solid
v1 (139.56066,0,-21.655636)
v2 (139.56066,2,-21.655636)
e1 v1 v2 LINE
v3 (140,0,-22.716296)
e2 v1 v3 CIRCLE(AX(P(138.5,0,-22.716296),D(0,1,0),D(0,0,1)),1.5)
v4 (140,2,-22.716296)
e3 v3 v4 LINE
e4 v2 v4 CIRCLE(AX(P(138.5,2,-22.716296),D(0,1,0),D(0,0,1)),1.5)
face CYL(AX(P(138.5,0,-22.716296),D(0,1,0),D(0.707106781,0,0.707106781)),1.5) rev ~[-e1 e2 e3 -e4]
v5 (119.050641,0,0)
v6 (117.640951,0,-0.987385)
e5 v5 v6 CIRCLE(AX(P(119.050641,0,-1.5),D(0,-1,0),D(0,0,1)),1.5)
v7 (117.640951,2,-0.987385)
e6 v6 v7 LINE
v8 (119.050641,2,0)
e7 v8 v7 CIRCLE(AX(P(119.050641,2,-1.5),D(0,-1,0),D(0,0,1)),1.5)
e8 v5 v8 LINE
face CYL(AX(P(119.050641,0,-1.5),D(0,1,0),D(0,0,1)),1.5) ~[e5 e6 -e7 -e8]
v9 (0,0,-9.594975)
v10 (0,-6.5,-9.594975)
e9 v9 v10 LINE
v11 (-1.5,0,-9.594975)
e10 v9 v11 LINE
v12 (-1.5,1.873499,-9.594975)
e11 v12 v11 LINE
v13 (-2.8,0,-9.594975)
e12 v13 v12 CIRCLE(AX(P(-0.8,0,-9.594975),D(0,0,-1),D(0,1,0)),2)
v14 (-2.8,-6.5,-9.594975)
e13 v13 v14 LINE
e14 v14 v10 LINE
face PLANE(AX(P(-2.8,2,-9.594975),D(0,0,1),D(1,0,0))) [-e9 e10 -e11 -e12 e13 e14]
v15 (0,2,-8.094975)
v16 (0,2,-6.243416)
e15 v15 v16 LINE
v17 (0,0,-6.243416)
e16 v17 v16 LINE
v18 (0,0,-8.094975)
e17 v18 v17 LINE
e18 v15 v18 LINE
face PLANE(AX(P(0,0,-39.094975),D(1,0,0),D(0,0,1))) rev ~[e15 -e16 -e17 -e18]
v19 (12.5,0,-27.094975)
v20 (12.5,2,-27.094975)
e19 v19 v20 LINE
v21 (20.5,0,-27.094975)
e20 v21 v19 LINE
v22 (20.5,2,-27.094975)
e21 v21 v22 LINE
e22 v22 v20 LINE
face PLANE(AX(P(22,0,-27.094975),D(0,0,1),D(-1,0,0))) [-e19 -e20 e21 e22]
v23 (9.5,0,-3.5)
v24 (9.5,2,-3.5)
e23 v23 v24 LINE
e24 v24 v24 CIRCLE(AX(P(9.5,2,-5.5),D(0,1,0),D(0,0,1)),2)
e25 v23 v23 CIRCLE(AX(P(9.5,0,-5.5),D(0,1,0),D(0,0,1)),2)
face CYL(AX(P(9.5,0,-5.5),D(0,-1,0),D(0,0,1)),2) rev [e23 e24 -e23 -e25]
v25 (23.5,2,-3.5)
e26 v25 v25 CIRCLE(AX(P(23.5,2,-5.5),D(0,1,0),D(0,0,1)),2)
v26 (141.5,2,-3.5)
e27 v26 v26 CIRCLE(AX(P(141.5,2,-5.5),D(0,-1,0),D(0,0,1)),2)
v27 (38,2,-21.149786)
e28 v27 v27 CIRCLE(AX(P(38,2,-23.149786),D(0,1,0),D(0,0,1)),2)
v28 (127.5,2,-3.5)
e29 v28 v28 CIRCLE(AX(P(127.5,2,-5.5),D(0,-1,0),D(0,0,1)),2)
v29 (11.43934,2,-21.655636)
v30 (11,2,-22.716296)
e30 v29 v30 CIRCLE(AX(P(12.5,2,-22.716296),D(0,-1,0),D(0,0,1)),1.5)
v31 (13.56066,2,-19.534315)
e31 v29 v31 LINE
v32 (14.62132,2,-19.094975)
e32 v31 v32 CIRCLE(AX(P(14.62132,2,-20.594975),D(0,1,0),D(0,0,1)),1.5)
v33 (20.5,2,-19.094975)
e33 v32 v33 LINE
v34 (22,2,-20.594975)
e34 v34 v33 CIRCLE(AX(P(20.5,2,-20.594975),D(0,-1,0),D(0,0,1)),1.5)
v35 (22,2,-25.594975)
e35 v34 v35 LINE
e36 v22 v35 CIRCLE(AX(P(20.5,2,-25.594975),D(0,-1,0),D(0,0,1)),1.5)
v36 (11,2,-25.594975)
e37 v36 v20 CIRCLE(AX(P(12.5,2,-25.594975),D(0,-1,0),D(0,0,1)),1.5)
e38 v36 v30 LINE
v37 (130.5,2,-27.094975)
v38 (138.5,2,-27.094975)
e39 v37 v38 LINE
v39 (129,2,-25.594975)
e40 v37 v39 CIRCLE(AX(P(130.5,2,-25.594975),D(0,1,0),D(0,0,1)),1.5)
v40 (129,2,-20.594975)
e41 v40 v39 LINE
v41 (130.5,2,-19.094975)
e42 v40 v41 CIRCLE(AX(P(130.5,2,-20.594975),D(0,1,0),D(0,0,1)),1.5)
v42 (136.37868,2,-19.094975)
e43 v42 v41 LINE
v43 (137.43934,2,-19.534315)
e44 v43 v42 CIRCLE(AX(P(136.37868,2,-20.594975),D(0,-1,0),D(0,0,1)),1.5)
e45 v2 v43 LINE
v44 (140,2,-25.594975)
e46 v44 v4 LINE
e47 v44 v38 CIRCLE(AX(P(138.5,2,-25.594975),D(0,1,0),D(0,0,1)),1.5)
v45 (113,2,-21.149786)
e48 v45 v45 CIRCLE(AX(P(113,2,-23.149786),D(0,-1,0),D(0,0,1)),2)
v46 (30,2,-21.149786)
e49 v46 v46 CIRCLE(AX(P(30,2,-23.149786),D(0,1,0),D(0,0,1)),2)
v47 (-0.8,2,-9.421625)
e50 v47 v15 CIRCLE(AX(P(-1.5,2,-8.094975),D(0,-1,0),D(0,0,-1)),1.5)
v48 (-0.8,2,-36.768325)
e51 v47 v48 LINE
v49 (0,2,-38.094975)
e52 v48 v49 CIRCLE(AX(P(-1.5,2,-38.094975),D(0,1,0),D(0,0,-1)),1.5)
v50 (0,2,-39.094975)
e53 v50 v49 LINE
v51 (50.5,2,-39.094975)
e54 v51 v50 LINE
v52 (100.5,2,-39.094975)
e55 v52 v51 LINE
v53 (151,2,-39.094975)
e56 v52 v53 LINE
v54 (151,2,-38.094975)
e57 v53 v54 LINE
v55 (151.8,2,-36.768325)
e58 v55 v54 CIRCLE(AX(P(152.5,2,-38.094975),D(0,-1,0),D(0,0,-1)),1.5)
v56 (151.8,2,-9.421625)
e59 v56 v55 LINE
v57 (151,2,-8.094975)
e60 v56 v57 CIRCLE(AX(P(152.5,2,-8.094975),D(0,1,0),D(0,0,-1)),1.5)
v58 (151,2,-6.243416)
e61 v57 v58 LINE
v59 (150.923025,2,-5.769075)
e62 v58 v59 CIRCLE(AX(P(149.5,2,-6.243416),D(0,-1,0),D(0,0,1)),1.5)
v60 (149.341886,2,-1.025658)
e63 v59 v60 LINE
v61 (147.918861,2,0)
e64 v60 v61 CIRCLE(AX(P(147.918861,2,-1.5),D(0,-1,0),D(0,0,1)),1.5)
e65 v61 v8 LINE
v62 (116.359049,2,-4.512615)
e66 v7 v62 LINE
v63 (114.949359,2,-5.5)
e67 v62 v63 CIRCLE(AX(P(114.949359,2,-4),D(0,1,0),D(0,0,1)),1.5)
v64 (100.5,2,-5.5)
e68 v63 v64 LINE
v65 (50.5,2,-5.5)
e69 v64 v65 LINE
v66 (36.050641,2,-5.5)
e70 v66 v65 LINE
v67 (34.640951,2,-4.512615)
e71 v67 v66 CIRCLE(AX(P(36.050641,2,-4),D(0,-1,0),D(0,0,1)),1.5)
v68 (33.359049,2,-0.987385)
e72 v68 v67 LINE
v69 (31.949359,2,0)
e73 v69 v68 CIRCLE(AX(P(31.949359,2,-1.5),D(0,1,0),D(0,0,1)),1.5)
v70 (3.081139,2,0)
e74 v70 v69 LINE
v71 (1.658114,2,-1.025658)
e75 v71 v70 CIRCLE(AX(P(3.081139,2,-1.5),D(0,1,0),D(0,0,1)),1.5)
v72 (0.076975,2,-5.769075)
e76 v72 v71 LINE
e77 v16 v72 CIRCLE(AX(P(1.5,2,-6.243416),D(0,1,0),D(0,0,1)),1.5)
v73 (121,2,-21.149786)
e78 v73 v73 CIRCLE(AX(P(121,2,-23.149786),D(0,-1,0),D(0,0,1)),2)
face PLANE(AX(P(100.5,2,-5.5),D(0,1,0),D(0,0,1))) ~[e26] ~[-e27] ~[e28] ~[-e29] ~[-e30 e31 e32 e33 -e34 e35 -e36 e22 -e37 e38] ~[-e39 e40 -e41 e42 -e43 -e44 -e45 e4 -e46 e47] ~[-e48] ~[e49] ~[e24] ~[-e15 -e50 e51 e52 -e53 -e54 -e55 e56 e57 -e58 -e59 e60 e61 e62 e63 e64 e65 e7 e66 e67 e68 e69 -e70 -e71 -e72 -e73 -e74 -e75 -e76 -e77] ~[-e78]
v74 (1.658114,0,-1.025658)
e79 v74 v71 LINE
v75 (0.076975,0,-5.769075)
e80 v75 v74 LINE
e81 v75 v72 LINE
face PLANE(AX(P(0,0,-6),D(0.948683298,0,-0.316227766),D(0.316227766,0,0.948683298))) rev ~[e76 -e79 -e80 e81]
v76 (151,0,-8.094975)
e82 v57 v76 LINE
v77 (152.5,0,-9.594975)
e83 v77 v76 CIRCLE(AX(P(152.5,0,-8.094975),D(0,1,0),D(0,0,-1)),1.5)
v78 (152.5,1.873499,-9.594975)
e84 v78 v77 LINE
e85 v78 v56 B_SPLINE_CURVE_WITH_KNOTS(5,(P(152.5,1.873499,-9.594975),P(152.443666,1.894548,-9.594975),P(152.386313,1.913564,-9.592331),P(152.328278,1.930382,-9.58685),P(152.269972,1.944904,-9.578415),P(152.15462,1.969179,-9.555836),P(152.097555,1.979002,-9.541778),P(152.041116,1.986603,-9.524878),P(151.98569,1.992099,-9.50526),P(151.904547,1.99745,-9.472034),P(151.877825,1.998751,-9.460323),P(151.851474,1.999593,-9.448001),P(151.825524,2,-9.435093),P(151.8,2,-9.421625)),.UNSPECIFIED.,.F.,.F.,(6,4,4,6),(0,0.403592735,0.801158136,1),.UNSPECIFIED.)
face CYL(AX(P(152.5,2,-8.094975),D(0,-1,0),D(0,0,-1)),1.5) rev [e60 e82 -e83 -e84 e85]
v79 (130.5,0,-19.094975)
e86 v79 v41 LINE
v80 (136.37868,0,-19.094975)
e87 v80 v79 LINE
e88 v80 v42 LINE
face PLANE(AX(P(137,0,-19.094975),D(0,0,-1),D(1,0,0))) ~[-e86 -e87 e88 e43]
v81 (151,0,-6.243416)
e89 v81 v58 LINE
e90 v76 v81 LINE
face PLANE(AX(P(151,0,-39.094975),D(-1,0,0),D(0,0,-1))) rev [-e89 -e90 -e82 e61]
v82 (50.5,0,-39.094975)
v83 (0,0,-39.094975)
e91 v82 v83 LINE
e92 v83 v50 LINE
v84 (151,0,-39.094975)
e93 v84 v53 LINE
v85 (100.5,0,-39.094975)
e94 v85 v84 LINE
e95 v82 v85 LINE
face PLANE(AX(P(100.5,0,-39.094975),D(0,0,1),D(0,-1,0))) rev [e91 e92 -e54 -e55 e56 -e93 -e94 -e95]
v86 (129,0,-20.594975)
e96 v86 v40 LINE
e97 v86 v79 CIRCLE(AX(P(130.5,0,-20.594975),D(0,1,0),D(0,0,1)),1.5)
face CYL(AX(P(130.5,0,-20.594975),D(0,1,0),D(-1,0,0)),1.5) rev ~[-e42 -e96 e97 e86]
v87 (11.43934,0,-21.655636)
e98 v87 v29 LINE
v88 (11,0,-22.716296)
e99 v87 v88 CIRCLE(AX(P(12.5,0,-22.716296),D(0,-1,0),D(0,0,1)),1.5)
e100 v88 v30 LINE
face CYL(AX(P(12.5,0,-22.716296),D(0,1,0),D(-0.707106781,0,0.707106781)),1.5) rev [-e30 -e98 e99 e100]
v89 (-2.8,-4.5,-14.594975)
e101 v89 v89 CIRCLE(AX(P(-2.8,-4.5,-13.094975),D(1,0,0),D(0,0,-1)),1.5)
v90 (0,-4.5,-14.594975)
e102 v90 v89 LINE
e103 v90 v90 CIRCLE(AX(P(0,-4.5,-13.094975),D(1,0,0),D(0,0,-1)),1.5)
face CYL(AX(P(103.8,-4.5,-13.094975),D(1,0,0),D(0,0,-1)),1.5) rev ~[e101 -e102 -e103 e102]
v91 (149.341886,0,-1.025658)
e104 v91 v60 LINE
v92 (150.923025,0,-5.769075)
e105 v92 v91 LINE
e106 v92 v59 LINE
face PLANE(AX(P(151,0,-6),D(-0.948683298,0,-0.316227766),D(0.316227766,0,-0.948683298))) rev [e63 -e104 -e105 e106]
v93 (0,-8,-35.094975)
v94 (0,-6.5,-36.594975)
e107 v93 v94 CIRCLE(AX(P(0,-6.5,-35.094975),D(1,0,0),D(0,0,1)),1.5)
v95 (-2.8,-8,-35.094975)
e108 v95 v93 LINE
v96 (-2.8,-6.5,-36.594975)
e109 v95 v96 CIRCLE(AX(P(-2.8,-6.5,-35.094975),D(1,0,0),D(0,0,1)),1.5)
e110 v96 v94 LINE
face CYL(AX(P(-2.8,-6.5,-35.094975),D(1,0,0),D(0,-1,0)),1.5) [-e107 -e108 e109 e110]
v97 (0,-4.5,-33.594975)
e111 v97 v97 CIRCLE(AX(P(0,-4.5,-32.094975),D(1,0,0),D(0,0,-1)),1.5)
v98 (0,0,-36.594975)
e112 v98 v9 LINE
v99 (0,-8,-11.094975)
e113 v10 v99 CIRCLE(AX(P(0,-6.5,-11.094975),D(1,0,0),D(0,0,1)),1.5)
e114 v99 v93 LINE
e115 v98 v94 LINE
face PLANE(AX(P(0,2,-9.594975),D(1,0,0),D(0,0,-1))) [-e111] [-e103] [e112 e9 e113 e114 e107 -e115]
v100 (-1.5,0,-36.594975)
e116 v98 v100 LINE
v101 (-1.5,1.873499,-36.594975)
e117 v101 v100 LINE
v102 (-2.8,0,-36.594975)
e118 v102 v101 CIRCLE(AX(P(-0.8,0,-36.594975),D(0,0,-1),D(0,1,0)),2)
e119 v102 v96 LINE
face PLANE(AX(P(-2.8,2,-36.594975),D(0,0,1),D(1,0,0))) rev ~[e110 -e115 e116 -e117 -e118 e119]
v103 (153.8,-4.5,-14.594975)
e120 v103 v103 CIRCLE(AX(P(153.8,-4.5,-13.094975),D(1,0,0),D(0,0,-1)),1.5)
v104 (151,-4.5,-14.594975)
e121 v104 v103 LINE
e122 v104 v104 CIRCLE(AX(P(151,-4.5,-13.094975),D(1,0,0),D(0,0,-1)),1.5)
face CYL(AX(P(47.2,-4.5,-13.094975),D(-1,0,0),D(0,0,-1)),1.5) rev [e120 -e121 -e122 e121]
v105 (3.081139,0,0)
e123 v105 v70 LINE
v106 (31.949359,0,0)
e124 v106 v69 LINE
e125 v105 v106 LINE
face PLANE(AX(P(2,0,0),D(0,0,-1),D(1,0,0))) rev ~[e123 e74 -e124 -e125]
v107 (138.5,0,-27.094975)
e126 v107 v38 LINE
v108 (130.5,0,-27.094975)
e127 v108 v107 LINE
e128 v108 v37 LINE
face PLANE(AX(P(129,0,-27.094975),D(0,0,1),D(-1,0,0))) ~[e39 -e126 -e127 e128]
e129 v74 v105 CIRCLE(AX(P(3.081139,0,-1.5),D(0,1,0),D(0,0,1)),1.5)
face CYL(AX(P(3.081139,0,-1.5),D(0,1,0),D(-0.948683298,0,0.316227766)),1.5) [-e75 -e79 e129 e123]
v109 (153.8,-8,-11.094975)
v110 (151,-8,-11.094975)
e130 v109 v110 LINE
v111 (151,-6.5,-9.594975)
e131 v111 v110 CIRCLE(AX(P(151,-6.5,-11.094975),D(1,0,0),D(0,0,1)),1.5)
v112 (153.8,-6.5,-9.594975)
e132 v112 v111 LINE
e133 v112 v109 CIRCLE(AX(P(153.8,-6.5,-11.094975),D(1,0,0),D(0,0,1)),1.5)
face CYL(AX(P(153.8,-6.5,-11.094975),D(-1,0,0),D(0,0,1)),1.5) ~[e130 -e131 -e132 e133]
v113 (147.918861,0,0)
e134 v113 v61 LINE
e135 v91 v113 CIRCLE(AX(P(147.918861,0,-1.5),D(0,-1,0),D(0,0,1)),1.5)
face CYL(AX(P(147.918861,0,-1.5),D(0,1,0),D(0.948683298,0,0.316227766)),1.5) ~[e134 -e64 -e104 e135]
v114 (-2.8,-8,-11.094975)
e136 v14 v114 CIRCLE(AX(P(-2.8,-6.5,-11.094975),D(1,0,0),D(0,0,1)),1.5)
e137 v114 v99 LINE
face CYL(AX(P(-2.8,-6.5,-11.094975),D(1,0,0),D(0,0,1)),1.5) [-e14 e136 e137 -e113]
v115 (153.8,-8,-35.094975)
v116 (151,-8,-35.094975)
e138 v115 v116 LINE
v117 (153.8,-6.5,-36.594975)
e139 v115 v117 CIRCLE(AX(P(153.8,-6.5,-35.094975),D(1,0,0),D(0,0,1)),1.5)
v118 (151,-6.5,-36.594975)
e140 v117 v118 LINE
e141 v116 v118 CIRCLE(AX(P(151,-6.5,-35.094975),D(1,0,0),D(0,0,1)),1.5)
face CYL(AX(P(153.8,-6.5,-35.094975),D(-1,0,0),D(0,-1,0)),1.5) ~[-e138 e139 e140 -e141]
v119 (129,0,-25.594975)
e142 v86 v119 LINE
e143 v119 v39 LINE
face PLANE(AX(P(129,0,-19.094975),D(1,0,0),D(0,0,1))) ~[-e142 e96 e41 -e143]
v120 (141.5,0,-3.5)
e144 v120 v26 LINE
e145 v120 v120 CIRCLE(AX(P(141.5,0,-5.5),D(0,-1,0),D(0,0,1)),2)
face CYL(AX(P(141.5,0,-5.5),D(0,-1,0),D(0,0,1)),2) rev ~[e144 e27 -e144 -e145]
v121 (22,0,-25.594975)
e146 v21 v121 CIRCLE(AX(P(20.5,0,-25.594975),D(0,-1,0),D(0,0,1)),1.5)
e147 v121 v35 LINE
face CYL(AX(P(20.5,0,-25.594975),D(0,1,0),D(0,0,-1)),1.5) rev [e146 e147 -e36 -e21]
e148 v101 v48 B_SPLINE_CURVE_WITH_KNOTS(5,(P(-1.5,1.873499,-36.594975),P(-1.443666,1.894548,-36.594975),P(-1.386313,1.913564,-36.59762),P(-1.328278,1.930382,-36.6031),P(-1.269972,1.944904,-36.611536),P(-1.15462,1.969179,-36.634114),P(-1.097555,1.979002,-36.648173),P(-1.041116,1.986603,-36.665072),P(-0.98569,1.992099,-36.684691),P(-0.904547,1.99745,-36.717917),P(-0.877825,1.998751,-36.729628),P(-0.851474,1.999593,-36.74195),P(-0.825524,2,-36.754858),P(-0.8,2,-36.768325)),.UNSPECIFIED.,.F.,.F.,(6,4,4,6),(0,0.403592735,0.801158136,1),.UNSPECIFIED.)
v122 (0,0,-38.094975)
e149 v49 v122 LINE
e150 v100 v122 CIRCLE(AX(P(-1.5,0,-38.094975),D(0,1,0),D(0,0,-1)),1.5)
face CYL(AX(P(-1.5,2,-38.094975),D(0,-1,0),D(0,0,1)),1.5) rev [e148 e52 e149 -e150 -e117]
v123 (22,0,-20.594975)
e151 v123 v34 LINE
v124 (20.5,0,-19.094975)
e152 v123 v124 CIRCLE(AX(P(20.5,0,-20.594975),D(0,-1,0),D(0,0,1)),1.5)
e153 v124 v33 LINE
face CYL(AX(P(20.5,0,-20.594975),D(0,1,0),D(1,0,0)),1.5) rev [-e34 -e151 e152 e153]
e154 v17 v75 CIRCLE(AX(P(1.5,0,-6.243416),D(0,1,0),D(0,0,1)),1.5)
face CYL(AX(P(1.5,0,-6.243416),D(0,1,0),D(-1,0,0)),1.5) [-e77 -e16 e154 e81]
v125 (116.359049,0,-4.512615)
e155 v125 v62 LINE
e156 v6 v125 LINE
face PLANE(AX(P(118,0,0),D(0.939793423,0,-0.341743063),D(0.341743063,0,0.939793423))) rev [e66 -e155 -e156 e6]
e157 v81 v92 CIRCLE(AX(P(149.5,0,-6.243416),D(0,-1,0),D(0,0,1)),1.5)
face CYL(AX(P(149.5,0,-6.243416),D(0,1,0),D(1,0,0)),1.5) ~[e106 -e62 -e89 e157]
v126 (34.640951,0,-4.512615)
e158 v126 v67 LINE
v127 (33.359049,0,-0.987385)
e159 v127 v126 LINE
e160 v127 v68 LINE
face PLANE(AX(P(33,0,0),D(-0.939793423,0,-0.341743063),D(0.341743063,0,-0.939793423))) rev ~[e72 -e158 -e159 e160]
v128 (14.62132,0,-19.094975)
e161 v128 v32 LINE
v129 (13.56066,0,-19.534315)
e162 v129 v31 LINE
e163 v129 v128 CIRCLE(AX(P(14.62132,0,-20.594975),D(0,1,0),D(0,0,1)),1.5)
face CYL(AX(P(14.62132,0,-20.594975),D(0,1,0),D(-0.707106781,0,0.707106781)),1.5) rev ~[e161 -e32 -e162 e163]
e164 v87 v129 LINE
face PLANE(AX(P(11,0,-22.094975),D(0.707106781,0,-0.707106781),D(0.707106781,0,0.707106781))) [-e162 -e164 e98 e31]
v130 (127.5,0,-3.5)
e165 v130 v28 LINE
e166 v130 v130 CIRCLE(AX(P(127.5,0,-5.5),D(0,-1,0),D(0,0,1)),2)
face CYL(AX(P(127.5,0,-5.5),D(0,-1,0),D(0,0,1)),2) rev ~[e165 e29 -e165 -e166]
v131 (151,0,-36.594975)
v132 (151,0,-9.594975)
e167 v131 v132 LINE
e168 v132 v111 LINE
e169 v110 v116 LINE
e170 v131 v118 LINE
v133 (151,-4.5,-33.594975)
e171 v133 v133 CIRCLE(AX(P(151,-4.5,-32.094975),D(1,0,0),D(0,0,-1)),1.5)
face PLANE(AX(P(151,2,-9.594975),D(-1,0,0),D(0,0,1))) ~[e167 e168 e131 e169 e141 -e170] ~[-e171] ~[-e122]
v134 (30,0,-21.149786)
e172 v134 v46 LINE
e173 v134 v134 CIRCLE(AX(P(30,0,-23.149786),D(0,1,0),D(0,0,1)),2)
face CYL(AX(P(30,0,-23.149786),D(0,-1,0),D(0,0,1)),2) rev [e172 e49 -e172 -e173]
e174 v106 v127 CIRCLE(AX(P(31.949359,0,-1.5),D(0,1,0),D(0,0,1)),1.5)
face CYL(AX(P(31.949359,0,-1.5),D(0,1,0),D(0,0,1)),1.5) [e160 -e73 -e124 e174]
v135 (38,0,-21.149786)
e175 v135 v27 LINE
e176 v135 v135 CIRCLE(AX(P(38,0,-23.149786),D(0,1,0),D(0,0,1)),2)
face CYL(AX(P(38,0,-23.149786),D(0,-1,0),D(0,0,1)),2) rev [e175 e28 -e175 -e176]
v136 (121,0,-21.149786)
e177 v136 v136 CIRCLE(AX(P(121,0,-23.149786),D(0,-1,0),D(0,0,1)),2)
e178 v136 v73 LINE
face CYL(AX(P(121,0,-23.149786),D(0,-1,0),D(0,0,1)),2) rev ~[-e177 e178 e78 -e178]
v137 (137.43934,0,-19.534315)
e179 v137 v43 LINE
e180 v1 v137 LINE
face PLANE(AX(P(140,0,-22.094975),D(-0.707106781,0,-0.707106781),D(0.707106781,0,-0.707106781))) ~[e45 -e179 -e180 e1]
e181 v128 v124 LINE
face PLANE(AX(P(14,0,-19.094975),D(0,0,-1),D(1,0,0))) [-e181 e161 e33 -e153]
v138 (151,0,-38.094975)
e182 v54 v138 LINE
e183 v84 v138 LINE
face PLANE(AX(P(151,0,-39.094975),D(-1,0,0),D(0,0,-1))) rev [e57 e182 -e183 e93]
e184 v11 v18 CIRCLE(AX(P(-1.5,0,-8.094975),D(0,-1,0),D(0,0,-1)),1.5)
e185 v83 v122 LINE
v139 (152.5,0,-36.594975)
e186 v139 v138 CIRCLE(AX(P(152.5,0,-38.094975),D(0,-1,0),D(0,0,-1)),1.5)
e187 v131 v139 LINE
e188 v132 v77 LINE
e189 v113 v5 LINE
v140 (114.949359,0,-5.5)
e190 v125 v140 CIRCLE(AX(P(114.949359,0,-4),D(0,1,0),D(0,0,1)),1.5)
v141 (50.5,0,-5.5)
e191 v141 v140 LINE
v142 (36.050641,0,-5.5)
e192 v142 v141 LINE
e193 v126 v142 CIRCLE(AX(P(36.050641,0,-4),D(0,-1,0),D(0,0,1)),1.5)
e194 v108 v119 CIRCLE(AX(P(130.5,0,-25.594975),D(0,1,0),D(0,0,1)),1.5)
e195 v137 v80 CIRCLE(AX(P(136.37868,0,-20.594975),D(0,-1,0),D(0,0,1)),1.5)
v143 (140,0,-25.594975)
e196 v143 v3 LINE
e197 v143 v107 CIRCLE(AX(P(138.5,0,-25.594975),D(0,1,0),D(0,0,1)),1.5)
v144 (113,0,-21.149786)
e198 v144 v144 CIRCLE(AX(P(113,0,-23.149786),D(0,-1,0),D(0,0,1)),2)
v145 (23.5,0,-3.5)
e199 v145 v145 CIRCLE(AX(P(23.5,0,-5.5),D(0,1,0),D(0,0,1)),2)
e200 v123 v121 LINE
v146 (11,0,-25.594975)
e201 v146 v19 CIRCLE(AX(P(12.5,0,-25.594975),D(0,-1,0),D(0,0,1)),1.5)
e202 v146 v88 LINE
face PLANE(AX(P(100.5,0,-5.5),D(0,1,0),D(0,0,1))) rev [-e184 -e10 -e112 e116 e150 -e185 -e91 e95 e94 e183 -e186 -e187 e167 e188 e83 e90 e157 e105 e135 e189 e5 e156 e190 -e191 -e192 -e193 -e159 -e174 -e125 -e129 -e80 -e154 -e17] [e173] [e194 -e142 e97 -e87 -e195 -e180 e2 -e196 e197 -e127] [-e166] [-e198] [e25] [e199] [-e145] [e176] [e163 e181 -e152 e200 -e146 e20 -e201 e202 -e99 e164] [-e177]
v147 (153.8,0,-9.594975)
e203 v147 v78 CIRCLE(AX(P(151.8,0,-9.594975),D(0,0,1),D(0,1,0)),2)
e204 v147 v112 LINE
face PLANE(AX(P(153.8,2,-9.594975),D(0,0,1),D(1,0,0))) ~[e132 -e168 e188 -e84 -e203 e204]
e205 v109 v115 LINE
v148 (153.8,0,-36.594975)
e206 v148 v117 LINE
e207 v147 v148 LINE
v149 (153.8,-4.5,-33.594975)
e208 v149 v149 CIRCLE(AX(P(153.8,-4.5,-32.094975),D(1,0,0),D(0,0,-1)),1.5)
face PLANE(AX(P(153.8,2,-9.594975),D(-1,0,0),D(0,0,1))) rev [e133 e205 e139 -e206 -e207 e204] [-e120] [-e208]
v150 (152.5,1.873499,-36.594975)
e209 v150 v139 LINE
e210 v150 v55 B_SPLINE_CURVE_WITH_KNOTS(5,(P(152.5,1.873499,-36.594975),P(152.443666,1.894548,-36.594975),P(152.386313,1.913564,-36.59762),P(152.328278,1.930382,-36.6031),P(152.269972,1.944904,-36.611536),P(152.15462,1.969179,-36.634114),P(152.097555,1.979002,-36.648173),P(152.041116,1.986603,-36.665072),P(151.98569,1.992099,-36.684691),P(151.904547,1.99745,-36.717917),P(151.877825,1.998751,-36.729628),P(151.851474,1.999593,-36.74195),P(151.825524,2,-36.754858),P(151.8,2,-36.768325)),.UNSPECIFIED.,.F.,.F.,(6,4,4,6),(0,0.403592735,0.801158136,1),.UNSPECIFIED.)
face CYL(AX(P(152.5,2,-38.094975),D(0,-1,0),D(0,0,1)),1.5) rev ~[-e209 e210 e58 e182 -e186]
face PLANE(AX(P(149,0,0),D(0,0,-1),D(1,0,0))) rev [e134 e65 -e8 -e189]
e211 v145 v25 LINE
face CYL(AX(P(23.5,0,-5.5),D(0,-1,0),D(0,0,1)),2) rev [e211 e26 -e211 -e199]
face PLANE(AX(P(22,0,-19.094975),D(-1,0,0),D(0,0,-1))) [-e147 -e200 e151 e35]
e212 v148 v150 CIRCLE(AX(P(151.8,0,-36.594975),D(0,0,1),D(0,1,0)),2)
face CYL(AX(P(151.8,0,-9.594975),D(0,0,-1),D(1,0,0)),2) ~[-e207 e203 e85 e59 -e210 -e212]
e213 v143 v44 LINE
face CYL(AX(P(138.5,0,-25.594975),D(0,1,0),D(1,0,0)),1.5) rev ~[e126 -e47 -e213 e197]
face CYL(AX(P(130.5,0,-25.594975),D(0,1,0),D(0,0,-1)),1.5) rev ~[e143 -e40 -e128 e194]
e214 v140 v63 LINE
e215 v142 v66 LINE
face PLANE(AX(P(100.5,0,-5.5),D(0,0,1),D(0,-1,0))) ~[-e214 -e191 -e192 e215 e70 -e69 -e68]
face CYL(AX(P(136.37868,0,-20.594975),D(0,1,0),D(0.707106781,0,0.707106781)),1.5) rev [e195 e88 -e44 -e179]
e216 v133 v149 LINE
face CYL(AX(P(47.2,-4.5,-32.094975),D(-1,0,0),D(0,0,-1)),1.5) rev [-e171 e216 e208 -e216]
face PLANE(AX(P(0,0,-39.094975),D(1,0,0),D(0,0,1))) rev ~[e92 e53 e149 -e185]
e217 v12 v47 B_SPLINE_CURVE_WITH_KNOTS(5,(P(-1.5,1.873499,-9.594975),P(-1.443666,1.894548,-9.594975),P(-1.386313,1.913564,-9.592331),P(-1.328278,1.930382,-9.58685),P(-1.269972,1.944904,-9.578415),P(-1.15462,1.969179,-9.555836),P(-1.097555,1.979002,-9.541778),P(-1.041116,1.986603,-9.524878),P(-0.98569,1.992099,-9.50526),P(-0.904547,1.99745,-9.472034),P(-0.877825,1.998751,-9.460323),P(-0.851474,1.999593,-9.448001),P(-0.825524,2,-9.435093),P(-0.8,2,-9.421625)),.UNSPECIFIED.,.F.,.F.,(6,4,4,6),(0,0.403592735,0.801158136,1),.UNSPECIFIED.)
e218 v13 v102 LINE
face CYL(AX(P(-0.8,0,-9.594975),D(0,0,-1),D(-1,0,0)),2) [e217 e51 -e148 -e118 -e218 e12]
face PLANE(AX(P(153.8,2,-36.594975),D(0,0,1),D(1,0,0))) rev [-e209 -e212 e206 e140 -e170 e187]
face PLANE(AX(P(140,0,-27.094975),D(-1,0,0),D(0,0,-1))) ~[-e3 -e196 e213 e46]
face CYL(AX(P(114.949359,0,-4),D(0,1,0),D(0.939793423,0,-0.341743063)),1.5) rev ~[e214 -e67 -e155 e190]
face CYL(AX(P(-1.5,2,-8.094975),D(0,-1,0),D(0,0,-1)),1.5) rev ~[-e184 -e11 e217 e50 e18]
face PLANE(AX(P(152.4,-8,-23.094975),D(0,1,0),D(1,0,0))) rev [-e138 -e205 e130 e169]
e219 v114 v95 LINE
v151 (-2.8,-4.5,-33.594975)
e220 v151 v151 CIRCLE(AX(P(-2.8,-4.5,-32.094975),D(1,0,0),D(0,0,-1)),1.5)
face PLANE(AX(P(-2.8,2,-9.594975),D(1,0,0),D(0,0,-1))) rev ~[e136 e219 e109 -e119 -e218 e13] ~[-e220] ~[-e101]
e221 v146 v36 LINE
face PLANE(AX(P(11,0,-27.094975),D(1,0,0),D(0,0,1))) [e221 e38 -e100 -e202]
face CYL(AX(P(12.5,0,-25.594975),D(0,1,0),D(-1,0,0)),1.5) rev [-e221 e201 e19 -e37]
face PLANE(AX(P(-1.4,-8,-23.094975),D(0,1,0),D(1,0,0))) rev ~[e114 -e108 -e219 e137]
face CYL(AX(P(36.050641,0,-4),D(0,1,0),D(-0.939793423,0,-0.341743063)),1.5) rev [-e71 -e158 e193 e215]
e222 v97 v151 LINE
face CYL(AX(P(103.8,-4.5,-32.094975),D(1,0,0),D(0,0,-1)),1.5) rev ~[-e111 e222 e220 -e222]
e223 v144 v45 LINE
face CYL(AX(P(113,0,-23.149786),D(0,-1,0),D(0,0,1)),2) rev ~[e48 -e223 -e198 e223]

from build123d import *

# Parameters (mm, degrees)
SKETCH1_R           = 2
BOSS_EXTRUDE1_DEPTH = 2
SKETCH2_W           = 2.8
SKETCH2_H           = 27
BOSS_EXTRUDE2_DEPTH = 10
SKETCH3_R           = 1.5
CUT_EXTRUDE1_DEPTH  = 114.824325613
FILLET1_R           = 1.5
FILLET2_R           = 2
SKETCH4_W           = 118.780737261
SKETCH4_H           = 53.902552227
CUT_EXTRUDE2_DEPTH  = 171
SKETCH5_W           = 33.594975397
SKETCH5_H           = 2
BOSS_EXTRUDE3_DEPTH = 25


with BuildPart() as part:
    # Sketch1 → Boss-Extrude1 (new body)
    with BuildSketch(Plane(origin=(0, 0, 0), x_dir=(1, 0, 0), z_dir=(0, 1, 0))):
        Polygon((0, 6), (2, 0), (33, 0), (35, 5.5), (66, 5.5), (68, 0), (99, 0), (101, 6), (101, 39.094975397), (0, 39.094975397), align=None)
        with Locations(Location((9.5, 5.5, 0), (0, 0, 270))):
            Circle(SKETCH1_R, mode=Mode.SUBTRACT)
        with Locations(Location((23.5, 5.5, 0), (0, 0, 270))):
            Circle(SKETCH1_R, mode=Mode.SUBTRACT)
        with Locations(Location((77.5, 5.5, 0), (0, 0, 90))):
            Circle(SKETCH1_R, mode=Mode.SUBTRACT)
        with Locations(Location((91.5, 5.5, 0), (0, 0, 90))):
            Circle(SKETCH1_R, mode=Mode.SUBTRACT)
        with Locations(Location((30, 23.149785568, 0), (0, 0, 270))):
            Circle(SKETCH1_R, mode=Mode.SUBTRACT)
        with Locations(Location((38, 23.149785568, 0), (0, 0, 270))):
            Circle(SKETCH1_R, mode=Mode.SUBTRACT)
        with Locations(Location((63, 23.149785568, 0), (0, 0, 90))):
            Circle(SKETCH1_R, mode=Mode.SUBTRACT)
        with Locations(Location((71, 23.149785568, 0), (0, 0, 90))):
            Circle(SKETCH1_R, mode=Mode.SUBTRACT)
        Polygon((11, 22.094975397), (14, 19.094975397), (22, 19.094975397), (22, 27.094975397), (11, 27.094975397), align=None, mode=Mode.SUBTRACT)
        Polygon((90, 27.094975397), (90, 22.094975397), (87, 19.094975397), (79, 19.094975397), (79, 27.094975397), align=None, mode=Mode.SUBTRACT)
    extrude(amount=BOSS_EXTRUDE1_DEPTH)

    # Sketch2 → Boss-Extrude2 (add)
    with BuildSketch(Plane(origin=(0, 2, 0), x_dir=(1, 0, 0), z_dir=(0, 1, 0))):
        with Locations((-1.4, 23.094975397)):
            Rectangle(SKETCH2_W, SKETCH2_H)
        with Locations((102.4, 23.094975397)):
            Rectangle(SKETCH2_W, SKETCH2_H)
    extrude(amount=-BOSS_EXTRUDE2_DEPTH)

    # Sketch3 → Cut-Extrude1 (cut, through all)
    with BuildSketch(Plane(origin=(103.8, 0, 0), x_dir=(0, 0, -1), z_dir=(1, 0, 0))):
        with Locations((13.094975397, -4.5)):
            Circle(SKETCH3_R)
        with Locations((32.094975397, -4.5)):
            Circle(SKETCH3_R)
    extrude(amount=-CUT_EXTRUDE1_DEPTH, mode=Mode.SUBTRACT)

    # Fillet1
    fillet1_edges = [part.edges().sort_by_distance(p)[0] for p in [
        (-1.4, -8, -9.594975397),
        (-1.4, -8, -36.594975397),
        (0, 1, -9.594975397),
        (0, 1, -6),
        (2, 1, 0),
        (0, 1, -36.594975397),
        (102.4, -8, -36.594975397),
        (101, 1, -36.594975397),
        (102.4, -8, -9.594975397),
        (101, 1, -9.594975397),
        (101, 1, -6),
        (99, 1, 0),
        (66, 1, -5.5),
        (68, 1, 0),
        (90, 1, -27.094975397),
        (79, 1, -27.094975397),
        (90, 1, -22.094975397),
        (87, 1, -19.094975397),
        (79, 1, -19.094975397),
        (35, 1, -5.5),
        (33, 1, 0),
        (11, 1, -27.094975397),
        (11, 1, -22.094975397),
        (14, 1, -19.094975397),
        (22, 1, -19.094975397),
        (22, 1, -27.094975397),
    ]]
    fillet(fillet1_edges, radius=FILLET1_R)

    # Fillet2
    fillet2_edges = [part.edges().sort_by_distance(p)[0] for p in [
        (-2.8, 2, -23.094975397),
        (103.8, 2, -23.094975397),
    ]]
    fillet(fillet2_edges, radius=FILLET2_R)

    # Sketch4 → Cut-Extrude2 (cut)
    with BuildSketch(Plane(origin=(50.5, 0, 0), x_dir=(0, 0, -1), z_dir=(1, 0, 0))):
        with Locations((-7.200535956, 8.280511496)):
            Rectangle(SKETCH4_W, SKETCH4_H)
    extrude(amount=CUT_EXTRUDE2_DEPTH, mode=Mode.SUBTRACT)

    # Sketch5 → Boss-Extrude3 (add)
    with BuildSketch(Plane(origin=(50.5, 0, 0), x_dir=(0, 0, -1), z_dir=(1, 0, 0))):
        with Locations((22.297487698, 1)):
            Rectangle(SKETCH5_W, SKETCH5_H)
    extrude(amount=BOSS_EXTRUDE3_DEPTH)

    # Mirror1: part across plane


with BuildPart() as part_1:
    add(part.part)
    add(part.part.mirror(Plane(origin=(75.5, 0, 0), x_dir=(0, 0, 1), z_dir=(1, 0, 0))))


solid = part_1.part
